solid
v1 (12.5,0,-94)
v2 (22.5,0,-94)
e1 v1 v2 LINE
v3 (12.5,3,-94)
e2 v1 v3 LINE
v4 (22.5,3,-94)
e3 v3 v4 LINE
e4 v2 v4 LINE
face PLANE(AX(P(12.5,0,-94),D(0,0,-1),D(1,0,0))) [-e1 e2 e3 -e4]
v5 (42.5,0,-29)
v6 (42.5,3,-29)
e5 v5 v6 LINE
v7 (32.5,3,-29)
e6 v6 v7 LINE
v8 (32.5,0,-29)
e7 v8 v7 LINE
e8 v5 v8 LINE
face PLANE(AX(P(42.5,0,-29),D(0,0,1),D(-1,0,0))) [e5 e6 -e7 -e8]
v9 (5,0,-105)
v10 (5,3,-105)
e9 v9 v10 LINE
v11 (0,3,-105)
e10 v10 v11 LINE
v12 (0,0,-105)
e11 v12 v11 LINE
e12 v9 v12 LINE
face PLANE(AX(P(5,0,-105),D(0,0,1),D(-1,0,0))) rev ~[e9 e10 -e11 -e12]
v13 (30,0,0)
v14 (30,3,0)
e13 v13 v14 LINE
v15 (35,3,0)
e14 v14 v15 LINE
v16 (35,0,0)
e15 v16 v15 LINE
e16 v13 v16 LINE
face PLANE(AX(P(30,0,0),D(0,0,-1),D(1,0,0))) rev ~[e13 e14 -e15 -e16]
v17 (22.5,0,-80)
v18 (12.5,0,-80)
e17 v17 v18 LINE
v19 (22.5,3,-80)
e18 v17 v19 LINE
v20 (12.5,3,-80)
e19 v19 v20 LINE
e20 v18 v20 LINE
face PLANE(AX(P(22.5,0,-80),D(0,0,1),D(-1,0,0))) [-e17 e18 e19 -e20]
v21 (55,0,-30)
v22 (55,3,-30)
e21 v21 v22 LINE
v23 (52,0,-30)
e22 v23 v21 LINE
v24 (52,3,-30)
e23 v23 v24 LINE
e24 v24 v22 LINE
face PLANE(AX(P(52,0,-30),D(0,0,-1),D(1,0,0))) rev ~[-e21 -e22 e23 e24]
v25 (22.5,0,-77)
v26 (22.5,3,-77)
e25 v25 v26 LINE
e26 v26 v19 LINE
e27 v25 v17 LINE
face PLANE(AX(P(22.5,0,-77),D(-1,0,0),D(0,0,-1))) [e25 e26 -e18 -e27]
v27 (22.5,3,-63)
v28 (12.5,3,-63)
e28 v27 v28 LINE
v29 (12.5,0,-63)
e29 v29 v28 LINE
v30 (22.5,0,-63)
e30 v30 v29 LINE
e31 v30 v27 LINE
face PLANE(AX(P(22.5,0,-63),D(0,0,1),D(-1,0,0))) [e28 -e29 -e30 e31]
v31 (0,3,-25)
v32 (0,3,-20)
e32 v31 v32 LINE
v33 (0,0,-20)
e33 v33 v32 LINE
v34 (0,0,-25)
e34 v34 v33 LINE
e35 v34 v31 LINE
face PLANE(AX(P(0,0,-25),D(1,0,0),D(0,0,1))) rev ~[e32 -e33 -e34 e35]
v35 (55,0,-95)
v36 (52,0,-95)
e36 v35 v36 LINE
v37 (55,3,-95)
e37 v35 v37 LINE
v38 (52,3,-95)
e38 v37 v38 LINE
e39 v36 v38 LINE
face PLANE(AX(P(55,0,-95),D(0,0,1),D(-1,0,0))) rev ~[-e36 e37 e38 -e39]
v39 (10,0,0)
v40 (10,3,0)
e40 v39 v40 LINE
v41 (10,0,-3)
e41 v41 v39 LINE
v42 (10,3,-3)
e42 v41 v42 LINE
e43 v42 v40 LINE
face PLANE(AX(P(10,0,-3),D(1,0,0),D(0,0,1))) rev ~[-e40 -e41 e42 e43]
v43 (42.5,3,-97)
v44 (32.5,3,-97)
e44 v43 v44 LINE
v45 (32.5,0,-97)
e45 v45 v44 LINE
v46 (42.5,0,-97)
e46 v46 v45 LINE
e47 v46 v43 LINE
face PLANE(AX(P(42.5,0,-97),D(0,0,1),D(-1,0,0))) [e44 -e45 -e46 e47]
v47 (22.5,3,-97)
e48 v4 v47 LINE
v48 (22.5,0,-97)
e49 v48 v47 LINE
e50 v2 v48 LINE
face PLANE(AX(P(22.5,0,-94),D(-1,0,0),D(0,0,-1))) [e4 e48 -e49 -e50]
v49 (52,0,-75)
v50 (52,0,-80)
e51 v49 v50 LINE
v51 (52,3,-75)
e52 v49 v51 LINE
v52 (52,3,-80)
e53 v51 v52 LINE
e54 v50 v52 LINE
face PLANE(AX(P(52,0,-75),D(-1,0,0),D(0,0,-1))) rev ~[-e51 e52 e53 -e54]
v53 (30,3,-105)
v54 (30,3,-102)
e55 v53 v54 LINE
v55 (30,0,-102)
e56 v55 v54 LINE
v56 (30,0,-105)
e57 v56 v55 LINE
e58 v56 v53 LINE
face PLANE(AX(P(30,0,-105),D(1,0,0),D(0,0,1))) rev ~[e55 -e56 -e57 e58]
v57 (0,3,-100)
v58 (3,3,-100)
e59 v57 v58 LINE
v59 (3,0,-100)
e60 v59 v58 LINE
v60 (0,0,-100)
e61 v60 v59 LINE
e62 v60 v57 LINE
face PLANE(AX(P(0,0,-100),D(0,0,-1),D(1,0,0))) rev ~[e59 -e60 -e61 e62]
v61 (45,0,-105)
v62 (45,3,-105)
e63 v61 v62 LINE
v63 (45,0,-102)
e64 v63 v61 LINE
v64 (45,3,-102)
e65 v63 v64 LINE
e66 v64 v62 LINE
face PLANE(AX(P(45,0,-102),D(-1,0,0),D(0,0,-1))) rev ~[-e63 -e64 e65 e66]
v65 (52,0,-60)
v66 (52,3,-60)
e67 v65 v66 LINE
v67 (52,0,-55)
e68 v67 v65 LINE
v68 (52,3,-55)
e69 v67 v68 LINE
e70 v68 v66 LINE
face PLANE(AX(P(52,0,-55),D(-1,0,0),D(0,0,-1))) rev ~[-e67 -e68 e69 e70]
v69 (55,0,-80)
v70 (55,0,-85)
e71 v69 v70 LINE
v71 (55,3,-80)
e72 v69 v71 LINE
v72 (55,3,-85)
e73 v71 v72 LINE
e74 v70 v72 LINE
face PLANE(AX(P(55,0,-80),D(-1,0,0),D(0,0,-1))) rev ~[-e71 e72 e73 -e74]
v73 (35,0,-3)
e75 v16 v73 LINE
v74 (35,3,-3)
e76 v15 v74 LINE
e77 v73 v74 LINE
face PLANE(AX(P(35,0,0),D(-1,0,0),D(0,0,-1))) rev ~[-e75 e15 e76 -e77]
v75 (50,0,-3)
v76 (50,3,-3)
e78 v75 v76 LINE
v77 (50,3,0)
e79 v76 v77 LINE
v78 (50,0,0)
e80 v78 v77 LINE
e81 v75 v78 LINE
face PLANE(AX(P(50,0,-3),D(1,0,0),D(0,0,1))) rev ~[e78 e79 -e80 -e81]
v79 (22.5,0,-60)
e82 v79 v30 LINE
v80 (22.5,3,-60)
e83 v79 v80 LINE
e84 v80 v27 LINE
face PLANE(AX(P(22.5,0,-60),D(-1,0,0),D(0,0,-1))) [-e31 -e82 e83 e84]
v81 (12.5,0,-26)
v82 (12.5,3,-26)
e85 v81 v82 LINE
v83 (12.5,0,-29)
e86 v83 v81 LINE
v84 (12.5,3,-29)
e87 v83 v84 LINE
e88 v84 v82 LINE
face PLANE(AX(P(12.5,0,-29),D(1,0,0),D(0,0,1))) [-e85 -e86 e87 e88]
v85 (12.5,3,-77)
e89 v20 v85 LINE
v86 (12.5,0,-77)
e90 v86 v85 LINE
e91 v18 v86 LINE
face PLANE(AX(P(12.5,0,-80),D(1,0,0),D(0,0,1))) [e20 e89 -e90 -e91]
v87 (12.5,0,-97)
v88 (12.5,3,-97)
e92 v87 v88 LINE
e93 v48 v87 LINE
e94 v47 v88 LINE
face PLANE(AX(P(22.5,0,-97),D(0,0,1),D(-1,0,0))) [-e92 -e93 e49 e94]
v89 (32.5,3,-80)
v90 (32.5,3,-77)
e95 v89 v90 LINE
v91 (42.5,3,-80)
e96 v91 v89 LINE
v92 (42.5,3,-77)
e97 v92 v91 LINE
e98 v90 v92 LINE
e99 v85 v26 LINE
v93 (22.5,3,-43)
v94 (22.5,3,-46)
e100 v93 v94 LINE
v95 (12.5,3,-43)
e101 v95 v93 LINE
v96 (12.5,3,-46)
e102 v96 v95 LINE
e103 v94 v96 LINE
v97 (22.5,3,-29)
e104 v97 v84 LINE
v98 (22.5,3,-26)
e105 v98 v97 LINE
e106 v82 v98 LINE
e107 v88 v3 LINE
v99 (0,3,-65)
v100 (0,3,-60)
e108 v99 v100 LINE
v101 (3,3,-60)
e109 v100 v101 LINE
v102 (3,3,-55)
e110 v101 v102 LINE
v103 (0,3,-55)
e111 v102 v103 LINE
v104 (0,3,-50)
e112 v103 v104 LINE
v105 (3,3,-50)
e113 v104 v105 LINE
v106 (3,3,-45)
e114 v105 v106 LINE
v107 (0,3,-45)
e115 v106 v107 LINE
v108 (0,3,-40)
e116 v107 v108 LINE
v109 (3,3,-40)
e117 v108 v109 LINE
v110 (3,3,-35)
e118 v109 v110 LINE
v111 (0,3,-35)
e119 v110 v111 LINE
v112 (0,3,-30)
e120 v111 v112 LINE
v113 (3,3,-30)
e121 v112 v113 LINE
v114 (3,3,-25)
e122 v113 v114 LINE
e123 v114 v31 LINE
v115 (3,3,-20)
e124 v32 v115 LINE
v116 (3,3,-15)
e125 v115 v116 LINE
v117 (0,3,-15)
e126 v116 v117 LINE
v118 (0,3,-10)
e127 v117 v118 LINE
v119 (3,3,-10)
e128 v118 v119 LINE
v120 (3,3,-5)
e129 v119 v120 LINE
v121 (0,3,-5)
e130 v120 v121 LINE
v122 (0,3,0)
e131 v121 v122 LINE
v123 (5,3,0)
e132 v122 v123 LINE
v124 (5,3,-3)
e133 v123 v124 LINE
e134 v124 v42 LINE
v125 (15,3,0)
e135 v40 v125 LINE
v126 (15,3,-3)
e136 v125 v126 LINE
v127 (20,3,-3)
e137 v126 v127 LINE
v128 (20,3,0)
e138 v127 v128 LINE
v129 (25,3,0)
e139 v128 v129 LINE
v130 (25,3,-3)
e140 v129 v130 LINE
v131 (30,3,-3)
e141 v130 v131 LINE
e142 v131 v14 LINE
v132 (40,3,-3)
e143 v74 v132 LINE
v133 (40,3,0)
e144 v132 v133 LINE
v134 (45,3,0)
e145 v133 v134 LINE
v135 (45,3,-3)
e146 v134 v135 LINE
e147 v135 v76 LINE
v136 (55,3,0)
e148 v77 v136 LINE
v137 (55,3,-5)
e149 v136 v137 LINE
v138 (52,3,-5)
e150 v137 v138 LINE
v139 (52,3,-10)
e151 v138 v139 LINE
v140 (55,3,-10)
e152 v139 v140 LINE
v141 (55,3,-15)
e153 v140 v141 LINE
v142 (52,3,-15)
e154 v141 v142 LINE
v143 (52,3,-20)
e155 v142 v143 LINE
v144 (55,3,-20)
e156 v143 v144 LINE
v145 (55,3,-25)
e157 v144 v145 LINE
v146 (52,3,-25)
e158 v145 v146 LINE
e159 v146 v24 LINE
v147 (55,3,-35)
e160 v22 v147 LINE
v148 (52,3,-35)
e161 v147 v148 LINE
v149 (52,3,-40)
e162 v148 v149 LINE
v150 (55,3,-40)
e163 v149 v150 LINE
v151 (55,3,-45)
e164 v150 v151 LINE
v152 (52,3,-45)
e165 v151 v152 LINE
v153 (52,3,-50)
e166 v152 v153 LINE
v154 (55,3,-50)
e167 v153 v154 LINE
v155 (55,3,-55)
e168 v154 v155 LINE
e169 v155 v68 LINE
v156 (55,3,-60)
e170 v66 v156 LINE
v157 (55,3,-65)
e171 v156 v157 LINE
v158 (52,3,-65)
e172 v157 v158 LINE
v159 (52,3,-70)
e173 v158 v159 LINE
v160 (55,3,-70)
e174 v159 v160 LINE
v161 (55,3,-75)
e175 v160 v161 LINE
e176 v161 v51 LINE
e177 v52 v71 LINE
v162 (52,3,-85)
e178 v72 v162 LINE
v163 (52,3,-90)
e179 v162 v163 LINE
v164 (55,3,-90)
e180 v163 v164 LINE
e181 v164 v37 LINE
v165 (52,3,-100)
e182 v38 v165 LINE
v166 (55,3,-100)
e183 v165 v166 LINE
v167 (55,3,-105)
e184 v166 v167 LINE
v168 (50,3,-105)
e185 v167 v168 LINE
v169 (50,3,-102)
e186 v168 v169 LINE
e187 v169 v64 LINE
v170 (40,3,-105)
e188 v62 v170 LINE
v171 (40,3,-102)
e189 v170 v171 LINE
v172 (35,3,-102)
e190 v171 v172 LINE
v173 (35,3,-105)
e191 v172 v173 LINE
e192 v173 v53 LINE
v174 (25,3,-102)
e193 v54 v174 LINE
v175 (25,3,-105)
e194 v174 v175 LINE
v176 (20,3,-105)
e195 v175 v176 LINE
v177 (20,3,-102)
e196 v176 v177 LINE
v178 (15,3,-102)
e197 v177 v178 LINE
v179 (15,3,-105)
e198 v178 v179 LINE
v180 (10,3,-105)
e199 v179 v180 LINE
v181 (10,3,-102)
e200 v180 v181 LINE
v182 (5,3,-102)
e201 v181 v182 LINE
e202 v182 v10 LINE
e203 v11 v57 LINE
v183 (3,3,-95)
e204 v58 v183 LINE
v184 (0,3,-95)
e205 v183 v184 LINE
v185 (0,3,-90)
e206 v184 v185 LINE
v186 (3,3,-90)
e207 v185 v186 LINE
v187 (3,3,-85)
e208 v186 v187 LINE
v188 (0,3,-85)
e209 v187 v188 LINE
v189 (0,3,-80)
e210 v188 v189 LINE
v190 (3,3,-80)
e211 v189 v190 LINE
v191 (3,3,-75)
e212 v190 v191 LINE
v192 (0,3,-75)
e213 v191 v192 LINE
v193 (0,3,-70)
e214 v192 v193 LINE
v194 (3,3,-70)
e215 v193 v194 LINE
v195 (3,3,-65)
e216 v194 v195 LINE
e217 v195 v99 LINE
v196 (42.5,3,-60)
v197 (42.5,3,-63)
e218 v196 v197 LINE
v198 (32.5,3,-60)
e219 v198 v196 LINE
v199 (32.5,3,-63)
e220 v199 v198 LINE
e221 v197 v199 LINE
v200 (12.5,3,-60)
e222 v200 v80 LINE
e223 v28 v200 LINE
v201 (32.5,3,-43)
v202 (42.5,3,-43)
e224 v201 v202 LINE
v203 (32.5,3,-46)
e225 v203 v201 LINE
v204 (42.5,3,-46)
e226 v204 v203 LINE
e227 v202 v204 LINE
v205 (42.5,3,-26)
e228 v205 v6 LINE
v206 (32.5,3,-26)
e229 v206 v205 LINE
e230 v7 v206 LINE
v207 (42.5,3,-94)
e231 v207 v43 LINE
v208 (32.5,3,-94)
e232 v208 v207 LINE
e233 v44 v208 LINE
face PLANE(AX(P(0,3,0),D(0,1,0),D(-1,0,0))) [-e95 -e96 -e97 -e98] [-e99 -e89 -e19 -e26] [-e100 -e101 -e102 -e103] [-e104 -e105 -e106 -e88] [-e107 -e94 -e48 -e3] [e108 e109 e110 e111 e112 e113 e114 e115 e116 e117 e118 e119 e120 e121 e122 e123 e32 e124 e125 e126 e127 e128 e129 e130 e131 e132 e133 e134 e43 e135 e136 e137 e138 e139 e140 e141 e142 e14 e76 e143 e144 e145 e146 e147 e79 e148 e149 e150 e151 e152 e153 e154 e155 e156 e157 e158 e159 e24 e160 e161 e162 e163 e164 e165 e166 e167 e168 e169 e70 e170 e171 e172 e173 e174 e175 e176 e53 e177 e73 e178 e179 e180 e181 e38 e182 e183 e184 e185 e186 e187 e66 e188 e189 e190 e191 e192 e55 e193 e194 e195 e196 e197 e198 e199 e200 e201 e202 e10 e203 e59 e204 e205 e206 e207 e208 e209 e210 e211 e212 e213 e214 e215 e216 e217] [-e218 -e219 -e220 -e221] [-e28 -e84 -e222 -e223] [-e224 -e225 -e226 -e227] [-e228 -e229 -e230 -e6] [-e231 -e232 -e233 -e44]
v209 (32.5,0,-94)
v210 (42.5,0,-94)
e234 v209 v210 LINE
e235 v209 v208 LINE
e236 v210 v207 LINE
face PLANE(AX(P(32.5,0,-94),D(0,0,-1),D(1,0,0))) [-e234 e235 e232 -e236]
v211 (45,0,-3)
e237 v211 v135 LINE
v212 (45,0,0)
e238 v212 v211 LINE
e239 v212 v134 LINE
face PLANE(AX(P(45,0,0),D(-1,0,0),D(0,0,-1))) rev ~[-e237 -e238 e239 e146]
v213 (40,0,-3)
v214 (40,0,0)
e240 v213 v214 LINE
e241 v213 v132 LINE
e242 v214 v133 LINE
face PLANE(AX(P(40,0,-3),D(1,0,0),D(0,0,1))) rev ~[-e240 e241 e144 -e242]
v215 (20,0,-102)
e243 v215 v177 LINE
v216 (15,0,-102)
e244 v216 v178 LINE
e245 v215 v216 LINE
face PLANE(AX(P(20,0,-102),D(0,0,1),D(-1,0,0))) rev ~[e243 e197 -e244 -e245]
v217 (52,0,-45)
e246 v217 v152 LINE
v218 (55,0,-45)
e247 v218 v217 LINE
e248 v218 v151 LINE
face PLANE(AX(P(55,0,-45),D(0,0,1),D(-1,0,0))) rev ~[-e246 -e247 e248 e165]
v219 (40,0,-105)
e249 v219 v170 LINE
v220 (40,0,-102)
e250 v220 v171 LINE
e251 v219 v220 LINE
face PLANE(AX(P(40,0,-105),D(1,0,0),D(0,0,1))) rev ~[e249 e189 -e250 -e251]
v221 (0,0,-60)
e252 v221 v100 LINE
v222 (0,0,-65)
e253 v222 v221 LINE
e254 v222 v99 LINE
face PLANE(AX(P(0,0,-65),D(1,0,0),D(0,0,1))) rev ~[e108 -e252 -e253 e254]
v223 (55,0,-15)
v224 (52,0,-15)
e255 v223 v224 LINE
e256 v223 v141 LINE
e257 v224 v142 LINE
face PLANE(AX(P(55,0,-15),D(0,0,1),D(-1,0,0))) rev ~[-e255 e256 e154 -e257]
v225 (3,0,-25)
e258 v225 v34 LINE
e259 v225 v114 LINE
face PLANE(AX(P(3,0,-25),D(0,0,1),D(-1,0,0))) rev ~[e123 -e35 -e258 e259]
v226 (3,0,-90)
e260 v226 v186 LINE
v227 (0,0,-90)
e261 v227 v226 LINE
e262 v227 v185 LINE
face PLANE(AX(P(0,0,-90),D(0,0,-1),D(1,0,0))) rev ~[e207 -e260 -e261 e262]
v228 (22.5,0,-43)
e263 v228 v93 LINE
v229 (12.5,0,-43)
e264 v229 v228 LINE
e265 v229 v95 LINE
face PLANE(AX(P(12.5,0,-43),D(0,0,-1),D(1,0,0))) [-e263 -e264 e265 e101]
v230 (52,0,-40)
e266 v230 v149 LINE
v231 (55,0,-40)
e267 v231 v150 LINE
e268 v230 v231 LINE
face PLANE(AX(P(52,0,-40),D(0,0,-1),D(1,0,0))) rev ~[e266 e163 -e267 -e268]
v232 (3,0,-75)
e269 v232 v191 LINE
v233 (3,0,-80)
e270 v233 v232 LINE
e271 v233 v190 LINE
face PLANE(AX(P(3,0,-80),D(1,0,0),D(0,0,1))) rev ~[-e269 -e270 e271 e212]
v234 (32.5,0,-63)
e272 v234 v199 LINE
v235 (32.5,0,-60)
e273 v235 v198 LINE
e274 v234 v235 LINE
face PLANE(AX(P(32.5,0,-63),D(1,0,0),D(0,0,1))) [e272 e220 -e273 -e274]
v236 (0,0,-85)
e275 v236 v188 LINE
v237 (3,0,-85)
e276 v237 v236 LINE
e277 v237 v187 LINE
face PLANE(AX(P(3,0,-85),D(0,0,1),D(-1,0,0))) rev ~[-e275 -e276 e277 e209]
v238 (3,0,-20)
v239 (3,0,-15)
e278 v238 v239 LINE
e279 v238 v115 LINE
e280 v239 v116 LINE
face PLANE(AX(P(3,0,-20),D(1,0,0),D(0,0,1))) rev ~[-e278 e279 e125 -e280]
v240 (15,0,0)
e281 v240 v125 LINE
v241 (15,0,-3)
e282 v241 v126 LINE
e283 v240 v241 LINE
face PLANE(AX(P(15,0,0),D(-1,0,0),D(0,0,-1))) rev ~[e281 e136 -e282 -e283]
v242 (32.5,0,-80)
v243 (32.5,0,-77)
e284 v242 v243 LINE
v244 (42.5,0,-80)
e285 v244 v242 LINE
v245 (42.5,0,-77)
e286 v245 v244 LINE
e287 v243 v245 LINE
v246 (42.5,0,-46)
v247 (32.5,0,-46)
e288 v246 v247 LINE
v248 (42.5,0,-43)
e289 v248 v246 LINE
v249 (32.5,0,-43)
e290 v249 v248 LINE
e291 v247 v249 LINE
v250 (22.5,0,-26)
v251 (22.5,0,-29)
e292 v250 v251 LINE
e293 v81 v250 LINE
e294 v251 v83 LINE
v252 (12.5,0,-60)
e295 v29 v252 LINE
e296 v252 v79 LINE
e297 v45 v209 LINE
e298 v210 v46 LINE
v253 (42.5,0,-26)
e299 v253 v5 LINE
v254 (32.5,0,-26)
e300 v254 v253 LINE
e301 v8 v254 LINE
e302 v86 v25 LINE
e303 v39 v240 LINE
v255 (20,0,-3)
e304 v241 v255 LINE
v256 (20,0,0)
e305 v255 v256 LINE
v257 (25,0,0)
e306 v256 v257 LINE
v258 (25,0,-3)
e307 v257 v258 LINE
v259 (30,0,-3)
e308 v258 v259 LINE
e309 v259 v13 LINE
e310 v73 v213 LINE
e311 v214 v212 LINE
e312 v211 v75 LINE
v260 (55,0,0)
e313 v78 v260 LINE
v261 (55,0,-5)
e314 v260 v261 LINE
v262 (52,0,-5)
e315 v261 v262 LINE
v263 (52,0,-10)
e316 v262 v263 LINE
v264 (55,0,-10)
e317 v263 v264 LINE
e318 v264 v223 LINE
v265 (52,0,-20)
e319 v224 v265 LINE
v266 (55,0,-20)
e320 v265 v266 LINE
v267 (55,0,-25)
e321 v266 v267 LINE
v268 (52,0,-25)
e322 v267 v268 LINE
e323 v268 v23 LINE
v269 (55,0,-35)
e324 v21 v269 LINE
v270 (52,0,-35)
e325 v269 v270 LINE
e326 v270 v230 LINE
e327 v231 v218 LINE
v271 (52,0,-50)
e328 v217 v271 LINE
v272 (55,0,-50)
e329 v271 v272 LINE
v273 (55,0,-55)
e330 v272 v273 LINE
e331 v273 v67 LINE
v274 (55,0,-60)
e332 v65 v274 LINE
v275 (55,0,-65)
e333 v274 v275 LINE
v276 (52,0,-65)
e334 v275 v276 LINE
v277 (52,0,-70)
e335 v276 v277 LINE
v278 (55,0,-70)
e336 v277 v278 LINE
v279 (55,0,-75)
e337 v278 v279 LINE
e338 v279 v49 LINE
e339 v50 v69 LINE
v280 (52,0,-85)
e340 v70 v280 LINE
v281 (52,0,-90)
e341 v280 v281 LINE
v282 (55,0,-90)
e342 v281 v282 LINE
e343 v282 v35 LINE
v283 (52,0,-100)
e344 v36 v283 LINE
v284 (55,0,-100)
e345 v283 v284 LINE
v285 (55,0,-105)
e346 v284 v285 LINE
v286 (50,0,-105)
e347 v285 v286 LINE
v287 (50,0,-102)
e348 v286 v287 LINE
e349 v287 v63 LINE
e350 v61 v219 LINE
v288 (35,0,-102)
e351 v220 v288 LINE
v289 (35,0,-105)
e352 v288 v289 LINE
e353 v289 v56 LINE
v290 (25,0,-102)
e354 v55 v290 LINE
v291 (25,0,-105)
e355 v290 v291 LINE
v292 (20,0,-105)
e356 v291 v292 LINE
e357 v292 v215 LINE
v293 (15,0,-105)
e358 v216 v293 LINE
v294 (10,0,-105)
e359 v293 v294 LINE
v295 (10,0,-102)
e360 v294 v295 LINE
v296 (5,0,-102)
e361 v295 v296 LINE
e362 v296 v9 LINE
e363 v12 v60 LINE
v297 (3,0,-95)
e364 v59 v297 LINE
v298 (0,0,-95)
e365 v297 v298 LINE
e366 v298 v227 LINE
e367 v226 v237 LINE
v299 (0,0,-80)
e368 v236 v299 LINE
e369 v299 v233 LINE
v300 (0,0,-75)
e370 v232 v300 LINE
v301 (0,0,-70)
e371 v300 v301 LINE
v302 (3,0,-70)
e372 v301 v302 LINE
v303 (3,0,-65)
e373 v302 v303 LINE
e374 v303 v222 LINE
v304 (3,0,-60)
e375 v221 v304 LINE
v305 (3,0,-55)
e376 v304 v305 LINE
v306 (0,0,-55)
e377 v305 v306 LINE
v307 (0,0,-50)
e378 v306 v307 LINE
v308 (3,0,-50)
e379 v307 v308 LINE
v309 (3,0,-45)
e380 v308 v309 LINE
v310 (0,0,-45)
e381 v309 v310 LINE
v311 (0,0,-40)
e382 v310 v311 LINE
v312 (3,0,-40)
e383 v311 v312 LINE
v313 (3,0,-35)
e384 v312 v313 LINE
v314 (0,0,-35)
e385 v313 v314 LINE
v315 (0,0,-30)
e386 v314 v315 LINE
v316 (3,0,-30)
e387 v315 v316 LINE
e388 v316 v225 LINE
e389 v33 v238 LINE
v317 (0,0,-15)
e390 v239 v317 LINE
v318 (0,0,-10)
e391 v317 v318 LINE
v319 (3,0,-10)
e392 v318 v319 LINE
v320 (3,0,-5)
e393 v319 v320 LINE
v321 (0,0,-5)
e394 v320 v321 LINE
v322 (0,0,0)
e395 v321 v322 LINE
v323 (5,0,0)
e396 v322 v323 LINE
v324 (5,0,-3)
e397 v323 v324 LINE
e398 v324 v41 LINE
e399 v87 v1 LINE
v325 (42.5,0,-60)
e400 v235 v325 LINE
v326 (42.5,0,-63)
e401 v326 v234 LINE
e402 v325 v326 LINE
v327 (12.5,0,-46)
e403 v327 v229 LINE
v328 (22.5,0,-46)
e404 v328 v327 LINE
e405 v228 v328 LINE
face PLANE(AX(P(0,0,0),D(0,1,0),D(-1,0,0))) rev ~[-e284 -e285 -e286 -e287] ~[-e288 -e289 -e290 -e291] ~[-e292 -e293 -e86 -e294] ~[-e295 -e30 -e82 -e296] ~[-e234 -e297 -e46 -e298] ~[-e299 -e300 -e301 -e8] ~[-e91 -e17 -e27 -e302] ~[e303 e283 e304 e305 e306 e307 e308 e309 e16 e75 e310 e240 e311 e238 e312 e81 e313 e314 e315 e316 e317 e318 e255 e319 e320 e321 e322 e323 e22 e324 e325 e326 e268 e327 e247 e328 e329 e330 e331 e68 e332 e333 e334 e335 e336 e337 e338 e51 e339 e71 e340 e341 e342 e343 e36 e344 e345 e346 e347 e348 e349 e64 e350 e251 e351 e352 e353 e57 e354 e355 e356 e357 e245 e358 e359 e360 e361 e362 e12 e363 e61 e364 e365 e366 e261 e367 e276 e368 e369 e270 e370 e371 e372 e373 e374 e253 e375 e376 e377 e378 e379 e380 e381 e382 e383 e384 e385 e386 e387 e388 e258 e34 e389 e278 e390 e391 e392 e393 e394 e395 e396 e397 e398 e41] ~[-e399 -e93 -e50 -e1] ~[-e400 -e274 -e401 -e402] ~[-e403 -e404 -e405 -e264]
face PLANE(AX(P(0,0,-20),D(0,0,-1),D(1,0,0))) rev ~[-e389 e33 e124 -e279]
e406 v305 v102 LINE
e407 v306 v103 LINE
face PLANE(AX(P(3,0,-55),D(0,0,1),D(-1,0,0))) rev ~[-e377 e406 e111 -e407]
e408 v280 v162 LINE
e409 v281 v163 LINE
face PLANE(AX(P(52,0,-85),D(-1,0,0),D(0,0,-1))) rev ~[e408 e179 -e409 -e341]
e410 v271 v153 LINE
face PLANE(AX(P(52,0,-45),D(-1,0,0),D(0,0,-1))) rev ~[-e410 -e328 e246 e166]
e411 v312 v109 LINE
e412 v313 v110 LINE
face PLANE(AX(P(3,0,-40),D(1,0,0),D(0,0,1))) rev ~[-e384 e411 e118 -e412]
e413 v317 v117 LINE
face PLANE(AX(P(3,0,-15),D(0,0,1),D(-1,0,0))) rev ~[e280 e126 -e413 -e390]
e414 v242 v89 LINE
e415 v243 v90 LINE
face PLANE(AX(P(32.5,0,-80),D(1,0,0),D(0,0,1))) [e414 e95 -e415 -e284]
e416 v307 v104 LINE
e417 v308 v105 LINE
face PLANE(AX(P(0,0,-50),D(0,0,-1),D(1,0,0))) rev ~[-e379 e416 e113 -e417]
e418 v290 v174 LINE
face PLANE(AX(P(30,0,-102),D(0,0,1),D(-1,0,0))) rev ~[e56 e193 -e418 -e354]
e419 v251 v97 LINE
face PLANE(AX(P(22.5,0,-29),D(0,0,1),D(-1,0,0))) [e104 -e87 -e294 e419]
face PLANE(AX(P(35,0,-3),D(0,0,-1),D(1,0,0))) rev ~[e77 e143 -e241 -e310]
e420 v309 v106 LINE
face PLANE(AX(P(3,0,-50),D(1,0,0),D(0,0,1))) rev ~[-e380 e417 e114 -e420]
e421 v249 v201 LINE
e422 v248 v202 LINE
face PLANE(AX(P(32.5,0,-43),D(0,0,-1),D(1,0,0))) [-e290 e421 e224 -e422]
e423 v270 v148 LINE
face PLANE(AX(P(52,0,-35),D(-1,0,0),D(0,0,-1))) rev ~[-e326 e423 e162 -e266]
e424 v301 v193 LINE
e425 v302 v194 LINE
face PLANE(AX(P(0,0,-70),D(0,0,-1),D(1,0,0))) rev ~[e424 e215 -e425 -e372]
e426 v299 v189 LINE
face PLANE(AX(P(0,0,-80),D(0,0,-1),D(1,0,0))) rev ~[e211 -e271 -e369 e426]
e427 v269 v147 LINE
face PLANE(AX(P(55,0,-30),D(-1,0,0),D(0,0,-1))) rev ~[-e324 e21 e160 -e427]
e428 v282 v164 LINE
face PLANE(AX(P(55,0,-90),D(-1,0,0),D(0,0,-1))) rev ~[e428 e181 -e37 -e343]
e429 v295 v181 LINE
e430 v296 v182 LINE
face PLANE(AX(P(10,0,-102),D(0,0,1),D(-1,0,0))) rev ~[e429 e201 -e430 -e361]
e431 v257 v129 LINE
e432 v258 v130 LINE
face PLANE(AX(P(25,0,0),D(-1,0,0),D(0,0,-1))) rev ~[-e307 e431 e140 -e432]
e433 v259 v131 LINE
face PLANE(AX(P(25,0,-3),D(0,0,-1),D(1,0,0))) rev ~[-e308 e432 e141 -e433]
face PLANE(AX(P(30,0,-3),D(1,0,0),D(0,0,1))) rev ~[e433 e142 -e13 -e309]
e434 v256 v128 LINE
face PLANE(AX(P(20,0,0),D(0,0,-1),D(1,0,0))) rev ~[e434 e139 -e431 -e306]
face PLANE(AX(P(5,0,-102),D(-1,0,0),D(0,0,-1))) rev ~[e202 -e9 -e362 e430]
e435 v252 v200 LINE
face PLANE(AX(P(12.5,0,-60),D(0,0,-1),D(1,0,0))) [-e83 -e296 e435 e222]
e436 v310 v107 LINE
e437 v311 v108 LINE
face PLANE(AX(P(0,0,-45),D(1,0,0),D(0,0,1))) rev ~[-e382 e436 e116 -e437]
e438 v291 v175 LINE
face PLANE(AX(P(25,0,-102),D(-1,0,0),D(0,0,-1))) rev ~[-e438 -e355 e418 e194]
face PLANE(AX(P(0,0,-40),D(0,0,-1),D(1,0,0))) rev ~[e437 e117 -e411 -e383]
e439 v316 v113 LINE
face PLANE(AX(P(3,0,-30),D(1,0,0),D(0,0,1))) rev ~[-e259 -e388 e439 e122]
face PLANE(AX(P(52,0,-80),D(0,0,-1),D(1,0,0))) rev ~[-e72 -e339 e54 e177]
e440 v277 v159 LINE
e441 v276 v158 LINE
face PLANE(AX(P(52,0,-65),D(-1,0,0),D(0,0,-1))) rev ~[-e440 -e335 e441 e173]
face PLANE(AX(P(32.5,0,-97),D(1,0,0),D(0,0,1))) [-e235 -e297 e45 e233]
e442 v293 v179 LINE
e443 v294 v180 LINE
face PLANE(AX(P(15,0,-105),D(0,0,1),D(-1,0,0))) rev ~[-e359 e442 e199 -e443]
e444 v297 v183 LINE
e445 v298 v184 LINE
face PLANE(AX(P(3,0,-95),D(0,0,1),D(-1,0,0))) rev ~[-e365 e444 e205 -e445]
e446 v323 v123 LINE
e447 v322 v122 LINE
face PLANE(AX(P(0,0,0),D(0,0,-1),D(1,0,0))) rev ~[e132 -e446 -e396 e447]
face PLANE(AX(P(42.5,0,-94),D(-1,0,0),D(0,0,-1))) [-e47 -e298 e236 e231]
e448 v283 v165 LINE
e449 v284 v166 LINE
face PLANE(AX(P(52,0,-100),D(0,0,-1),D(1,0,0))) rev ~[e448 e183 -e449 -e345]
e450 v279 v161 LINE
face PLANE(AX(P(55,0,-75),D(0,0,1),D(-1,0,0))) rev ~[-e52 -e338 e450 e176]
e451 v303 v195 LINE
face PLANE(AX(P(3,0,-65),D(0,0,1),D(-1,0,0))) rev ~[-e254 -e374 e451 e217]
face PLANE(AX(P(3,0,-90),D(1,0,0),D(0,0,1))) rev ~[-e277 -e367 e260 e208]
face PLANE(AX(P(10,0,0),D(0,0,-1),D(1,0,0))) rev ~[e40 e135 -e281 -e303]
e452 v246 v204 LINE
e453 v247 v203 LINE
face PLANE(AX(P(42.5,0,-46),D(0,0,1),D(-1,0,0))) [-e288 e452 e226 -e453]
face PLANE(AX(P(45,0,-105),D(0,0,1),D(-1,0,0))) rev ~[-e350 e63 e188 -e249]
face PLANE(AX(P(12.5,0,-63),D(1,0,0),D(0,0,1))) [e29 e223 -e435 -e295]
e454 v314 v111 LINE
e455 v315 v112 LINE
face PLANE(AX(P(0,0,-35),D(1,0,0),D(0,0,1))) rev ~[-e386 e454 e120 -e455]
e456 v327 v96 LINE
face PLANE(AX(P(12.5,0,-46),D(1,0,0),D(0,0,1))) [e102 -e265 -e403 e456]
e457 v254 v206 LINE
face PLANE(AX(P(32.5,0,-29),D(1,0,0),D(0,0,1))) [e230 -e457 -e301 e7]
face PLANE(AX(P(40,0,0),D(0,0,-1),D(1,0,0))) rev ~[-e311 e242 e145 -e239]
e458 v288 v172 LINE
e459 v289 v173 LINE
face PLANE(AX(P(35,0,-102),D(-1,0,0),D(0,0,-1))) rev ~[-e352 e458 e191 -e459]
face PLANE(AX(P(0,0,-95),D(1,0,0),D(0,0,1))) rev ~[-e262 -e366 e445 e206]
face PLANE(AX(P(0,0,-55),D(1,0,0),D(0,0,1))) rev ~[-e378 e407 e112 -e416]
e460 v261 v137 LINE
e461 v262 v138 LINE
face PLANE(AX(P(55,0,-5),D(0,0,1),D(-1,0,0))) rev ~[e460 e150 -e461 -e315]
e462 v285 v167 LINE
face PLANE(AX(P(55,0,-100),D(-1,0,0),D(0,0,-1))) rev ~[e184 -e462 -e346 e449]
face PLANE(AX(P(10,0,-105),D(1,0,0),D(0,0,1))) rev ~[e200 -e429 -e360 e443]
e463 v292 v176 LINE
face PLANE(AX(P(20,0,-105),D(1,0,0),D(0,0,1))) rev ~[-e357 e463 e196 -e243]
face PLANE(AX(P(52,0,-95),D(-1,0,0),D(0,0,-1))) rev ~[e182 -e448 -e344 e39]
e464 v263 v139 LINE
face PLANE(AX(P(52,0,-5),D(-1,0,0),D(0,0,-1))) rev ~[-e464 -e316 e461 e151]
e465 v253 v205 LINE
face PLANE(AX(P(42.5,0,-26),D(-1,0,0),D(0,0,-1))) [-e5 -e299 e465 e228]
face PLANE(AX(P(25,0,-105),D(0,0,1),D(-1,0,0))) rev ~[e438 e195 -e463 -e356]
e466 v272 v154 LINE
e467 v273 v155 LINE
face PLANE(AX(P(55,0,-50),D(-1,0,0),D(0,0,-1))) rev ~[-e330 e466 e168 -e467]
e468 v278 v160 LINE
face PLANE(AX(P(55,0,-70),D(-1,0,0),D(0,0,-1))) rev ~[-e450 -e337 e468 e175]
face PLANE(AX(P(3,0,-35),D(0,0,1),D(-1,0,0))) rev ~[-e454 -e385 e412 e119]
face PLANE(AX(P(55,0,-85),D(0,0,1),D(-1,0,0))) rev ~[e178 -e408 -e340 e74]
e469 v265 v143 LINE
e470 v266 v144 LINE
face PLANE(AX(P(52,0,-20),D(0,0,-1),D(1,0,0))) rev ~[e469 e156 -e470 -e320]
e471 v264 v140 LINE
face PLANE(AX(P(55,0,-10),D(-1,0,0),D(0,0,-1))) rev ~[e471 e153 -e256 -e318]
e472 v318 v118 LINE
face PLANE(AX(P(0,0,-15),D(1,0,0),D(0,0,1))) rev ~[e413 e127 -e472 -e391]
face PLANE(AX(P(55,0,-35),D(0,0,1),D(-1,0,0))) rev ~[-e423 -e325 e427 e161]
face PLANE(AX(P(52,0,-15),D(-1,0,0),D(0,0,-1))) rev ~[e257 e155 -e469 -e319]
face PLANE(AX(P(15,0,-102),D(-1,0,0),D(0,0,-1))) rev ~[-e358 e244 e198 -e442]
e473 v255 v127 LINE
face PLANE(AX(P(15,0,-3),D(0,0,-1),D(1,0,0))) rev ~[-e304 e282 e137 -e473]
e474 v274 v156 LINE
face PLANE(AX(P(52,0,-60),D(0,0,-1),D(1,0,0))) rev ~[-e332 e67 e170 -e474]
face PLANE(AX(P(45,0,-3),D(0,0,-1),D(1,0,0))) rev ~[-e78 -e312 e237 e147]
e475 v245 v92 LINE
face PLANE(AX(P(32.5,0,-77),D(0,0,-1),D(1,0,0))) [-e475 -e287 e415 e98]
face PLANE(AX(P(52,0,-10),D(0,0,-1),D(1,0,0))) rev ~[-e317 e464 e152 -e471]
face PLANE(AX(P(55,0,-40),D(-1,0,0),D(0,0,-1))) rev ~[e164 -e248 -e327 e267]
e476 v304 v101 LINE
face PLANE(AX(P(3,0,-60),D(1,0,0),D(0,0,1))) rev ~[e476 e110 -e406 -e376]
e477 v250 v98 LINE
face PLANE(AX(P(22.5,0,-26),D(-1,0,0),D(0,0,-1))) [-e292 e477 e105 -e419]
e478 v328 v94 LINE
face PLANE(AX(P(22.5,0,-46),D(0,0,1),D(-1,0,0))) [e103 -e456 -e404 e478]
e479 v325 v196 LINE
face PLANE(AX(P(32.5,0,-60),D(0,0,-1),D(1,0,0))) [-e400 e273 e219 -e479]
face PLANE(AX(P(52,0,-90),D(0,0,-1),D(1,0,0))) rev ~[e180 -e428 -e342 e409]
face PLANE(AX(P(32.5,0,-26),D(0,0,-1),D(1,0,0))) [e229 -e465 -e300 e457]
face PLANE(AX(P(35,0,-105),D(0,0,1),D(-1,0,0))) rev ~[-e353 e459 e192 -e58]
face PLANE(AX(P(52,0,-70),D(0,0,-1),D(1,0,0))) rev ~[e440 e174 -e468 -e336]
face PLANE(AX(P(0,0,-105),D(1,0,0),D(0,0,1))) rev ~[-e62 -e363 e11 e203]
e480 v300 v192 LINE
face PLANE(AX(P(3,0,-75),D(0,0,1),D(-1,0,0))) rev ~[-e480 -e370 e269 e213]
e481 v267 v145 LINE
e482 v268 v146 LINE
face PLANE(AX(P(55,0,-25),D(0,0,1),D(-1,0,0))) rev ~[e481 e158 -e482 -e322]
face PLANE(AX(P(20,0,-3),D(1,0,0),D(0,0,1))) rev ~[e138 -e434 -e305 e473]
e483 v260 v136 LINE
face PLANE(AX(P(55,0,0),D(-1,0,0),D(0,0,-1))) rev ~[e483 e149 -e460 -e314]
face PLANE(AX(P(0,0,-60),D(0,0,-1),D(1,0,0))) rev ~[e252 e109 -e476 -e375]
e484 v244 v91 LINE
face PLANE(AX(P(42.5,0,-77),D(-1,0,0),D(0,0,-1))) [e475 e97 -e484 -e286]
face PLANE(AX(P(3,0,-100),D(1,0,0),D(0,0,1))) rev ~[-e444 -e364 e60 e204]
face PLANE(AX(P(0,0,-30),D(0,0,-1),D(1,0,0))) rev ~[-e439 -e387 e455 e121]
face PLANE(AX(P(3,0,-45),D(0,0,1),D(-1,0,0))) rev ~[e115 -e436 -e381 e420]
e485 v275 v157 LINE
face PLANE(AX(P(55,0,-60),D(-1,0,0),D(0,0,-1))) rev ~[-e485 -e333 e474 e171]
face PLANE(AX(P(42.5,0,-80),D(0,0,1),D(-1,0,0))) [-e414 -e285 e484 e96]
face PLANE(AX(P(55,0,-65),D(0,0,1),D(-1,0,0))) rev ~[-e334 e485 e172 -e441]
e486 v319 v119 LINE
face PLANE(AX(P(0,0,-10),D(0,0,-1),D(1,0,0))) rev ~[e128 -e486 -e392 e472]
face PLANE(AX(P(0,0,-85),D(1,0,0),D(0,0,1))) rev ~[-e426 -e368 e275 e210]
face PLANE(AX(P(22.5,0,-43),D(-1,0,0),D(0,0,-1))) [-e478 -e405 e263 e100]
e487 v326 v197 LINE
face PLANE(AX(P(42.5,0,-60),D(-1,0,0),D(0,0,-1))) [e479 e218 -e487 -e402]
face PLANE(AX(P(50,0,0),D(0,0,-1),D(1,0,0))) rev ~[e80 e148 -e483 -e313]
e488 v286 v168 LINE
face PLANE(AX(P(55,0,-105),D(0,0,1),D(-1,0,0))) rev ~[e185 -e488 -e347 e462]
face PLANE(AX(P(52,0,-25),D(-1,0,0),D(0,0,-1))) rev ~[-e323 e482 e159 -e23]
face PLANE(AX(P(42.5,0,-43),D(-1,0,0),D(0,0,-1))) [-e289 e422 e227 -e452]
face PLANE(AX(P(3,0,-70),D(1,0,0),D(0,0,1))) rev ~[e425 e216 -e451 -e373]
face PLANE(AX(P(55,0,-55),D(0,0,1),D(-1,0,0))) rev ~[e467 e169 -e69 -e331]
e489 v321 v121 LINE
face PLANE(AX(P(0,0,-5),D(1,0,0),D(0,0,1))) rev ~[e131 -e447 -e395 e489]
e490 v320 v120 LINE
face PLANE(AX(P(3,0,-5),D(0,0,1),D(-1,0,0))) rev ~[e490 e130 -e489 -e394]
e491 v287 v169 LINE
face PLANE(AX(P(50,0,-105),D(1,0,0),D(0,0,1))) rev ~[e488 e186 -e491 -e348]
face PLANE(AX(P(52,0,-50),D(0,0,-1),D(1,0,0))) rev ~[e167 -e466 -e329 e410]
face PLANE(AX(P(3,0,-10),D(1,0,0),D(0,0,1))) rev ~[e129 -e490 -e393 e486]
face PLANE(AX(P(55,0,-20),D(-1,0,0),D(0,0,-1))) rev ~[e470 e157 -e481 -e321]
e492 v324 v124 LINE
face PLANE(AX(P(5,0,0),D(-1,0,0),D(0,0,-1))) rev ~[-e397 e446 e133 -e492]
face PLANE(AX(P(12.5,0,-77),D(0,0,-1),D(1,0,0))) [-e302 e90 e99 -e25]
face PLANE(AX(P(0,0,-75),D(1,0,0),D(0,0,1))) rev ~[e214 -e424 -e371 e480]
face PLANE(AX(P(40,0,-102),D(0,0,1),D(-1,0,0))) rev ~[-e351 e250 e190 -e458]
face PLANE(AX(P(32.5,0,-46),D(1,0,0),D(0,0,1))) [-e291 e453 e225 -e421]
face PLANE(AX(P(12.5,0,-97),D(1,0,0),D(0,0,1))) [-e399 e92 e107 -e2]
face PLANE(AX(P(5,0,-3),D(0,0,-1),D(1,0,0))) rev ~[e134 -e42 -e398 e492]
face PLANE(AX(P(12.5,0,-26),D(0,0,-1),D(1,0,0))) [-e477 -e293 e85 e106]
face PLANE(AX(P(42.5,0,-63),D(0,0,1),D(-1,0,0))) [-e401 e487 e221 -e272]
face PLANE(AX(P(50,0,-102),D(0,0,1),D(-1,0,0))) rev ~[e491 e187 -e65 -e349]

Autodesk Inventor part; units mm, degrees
ref_plane "YZ Plane" through (0, 0, 0) normal (1, 0, 0) x (0, 1, 0)
ref_plane "XZ Plane" through (0, 0, 0) normal (0, 1, 0) x (-1, 0, 0)
ref_plane "XY Plane" through (0, 0, 0) normal (0, 0, 1) x (1, 0, 0)
sketch "Skizze1" plane through (0, 0, 0) normal (0, 1, 0) x (-1, 0, 0)
  line L0 (-12.5, -26) -> (-22.5, -26)
  line L1 (-22.5, -26) -> (-22.5, -29)
  line L2 (-22.5, -29) -> (-12.5, -29)
  line L3 (-12.5, -29) -> (-12.5, -26)
  line L4 (-32.5, -26) -> (-42.5, -26)
  line L5 (-42.5, -26) -> (-42.5, -29)
  line L6 (-42.5, -29) -> (-32.5, -29)
  line L7 (-32.5, -29) -> (-32.5, -26)
  line L8 (-12.5, -43) -> (-22.5, -43)
  line L9 (-22.5, -43) -> (-22.5, -46)
  line L10 (-22.5, -46) -> (-12.5, -46)
  line L11 (-12.5, -46) -> (-12.5, -43)
  line L12 (-32.5, -43) -> (-42.5, -43)
  line L13 (-42.5, -43) -> (-42.5, -46)
  line L14 (-42.5, -46) -> (-32.5, -46)
  line L15 (-32.5, -46) -> (-32.5, -43)
  line L16 (-12.5, -60) -> (-22.5, -60)
  line L17 (-22.5, -60) -> (-22.5, -63)
  line L18 (-22.5, -63) -> (-12.5, -63)
  line L19 (-12.5, -63) -> (-12.5, -60)
  line L20 (-32.5, -60) -> (-42.5, -60)
  line L21 (-42.5, -60) -> (-42.5, -63)
  line L22 (-42.5, -63) -> (-32.5, -63)
  line L23 (-32.5, -63) -> (-32.5, -60)
  line L24 (-12.5, -77) -> (-22.5, -77)
  line L25 (-22.5, -77) -> (-22.5, -80)
  line L26 (-22.5, -80) -> (-12.5, -80)
  line L27 (-12.5, -80) -> (-12.5, -77)
  line L28 (-32.5, -77) -> (-42.5, -77)
  line L29 (-42.5, -77) -> (-42.5, -80)
  line L30 (-42.5, -80) -> (-32.5, -80)
  line L31 (-32.5, -80) -> (-32.5, -77)
  line L32 (-12.5, -94) -> (-22.5, -94)
  line L33 (-22.5, -94) -> (-22.5, -97)
  line L34 (-22.5, -97) -> (-12.5, -97)
  line L35 (-12.5, -97) -> (-12.5, -94)
  line L36 (-32.5, -94) -> (-42.5, -94)
  line L37 (-42.5, -94) -> (-42.5, -97)
  line L38 (-42.5, -97) -> (-32.5, -97)
  line L39 (-32.5, -97) -> (-32.5, -94)
  line L40 (0, 0) -> (-5, 0)
  line L41 (-5, 0) -> (-5, -3)
  line L42 (-5, -3) -> (-10, -3)
  line L43 (-10, -3) -> (-10, 0)
  line L44 (-20, -3) -> (-20, 0)
  line L45 (-15, -3) -> (-20, -3)
  line L46 (-15, 0) -> (-15, -3)
  line L47 (-10, 0) -> (-15, 0)
  line L48 (-30, -3) -> (-30, 0)
  line L49 (-25, -3) -> (-30, -3)
  line L50 (-25, 0) -> (-25, -3)
  line L51 (-20, 0) -> (-25, 0)
  line L52 (-40, -3) -> (-40, 0)
  line L53 (-35, -3) -> (-40, -3)
  line L54 (-35, 0) -> (-35, -3)
  line L55 (-30, 0) -> (-35, 0)
  line L56 (-50, -3) -> (-50, 0)
  line L57 (-45, -3) -> (-50, -3)
  line L58 (-45, 0) -> (-45, -3)
  line L59 (-40, 0) -> (-45, 0)
  line L60 (-50, 0) -> (-55, 0)
  line L61 (-55, 0) -> (-55, -5)
  line L62 (-55, -5) -> (-52, -5)
  line L63 (-52, -5) -> (-52, -10)
  line L64 (-52, -10) -> (-55, -10)
  line L65 (-52, -15) -> (-52, -20)
  line L66 (-55, -10) -> (-55, -15)
  line L67 (-55, -15) -> (-52, -15)
  line L68 (-52, -20) -> (-55, -20)
  line L69 (-52, -25) -> (-52, -30)
  line L70 (-55, -20) -> (-55, -25)
  line L71 (-55, -25) -> (-52, -25)
  line L72 (-52, -30) -> (-55, -30)
  line L73 (-52, -35) -> (-52, -40)
  line L74 (-55, -30) -> (-55, -35)
  line L75 (-55, -35) -> (-52, -35)
  line L76 (-52, -40) -> (-55, -40)
  line L77 (-52, -45) -> (-52, -50)
  line L78 (-55, -40) -> (-55, -45)
  line L79 (-55, -45) -> (-52, -45)
  line L80 (-52, -50) -> (-55, -50)
  line L81 (-52, -55) -> (-52, -60)
  line L82 (-55, -50) -> (-55, -55)
  line L83 (-55, -55) -> (-52, -55)
  line L84 (-52, -60) -> (-55, -60)
  line L85 (-52, -65) -> (-52, -70)
  line L86 (-55, -60) -> (-55, -65)
  line L87 (-55, -65) -> (-52, -65)
  line L88 (-52, -70) -> (-55, -70)
  line L89 (-52, -75) -> (-52, -80)
  line L90 (-55, -70) -> (-55, -75)
  line L91 (-55, -75) -> (-52, -75)
  line L92 (-52, -80) -> (-55, -80)
  line L93 (-22.5, -61.5) -> (-32.5, -61.5) construction
  line L94 (-27.5, -105) -> (-27.5, 0) construction
  line L95 (-55, -80) -> (-55, -85)
  line L96 (-55, -105) -> (-50, -105)
  line L97 (-50, -105) -> (-50, -102)
  line L98 (-50, -102) -> (-45, -102)
  line L99 (-45, -102) -> (-45, -105)
  line L100 (-40, -102) -> (-35, -102)
  line L101 (-35, -102) -> (-35, -105)
  line L102 (-40, -105) -> (-40, -102)
  line L103 (-45, -105) -> (-40, -105)
  line L104 (-30, -102) -> (-25, -102)
  line L105 (-25, -102) -> (-25, -105)
  line L106 (-30, -105) -> (-30, -102)
  line L107 (-35, -105) -> (-30, -105)
  line L108 (-20, -102) -> (-15, -102)
  line L109 (-15, -102) -> (-15, -105)
  line L110 (-20, -105) -> (-20, -102)
  line L111 (-25, -105) -> (-20, -105)
  line L112 (-10, -102) -> (-5, -102)
  line L113 (-5, -102) -> (-5, -105)
  line L114 (-10, -105) -> (-10, -102)
  line L115 (-15, -105) -> (-10, -105)
  line L116 (-5, -105) -> (0, -105)
  line L117 (0, -105) -> (0, -100)
  line L118 (0, -100) -> (-3, -100)
  line L119 (-3, -100) -> (-3, -95)
  line L120 (-3, -95) -> (0, -95)
  line L121 (-3, -90) -> (-3, -85)
  line L122 (-3, -85) -> (0, -85)
  line L123 (0, -90) -> (-3, -90)
  line L124 (0, -95) -> (0, -90)
  line L125 (-3, -80) -> (-3, -75)
  line L126 (-3, -75) -> (0, -75)
  line L127 (0, -80) -> (-3, -80)
  line L128 (0, -85) -> (0, -80)
  line L129 (-3, -70) -> (-3, -65)
  line L130 (-3, -65) -> (0, -65)
  line L131 (0, -70) -> (-3, -70)
  line L132 (0, -75) -> (0, -70)
  line L133 (-3, -60) -> (-3, -55)
  line L134 (-3, -55) -> (0, -55)
  line L135 (0, -60) -> (-3, -60)
  line L136 (0, -65) -> (0, -60)
  line L137 (-3, -50) -> (-3, -45)
  line L138 (-3, -45) -> (0, -45)
  line L139 (0, -50) -> (-3, -50)
  line L140 (0, -55) -> (0, -50)
  line L141 (-3, -40) -> (-3, -35)
  line L142 (-3, -35) -> (0, -35)
  line L143 (0, -40) -> (-3, -40)
  line L144 (0, -45) -> (0, -40)
  line L145 (-3, -30) -> (-3, -25)
  line L146 (-3, -25) -> (0, -25)
  line L147 (0, -30) -> (-3, -30)
  line L148 (0, -35) -> (0, -30)
  line L149 (-52, -85) -> (-52, -90)
  line L150 (-55, -80) -> (-55, -85)
  line L151 (-55, -85) -> (-52, -85)
  line L152 (-52, -90) -> (-55, -90)
  line L153 (-3, -20) -> (-3, -15)
  line L154 (-3, -15) -> (0, -15)
  line L155 (0, -20) -> (-3, -20)
  line L156 (0, -25) -> (0, -20)
  line L157 (-52, -95) -> (-52, -100)
  line L158 (-55, -90) -> (-55, -95)
  line L159 (-55, -95) -> (-52, -95)
  line L160 (-52, -100) -> (-55, -100)
  line L161 (-3, -10) -> (-3, -5)
  line L162 (-3, -5) -> (0, -5)
  line L163 (0, -10) -> (-3, -10)
  line L164 (0, -15) -> (0, -10)
  line L165 (-55, -100) -> (-55, -105)
  line L166 (0, -5) -> (0, 0)
  line L167 (-3, -10) -> (-52, -10) construction
  point P0 (-27.5, -61.5)
  point P1 (-27.5, -10)
  dimension "d0" = 10
  dimension "d1" = 3
  dimension "d4" = 20
  dimension "d7" = 17
  dimension "d10" = 5
  dimension "d11" = 3
  dimension "d15" = 10
  dimension "d22" = 10
  dimension "d31" = 10
  dimension "d38" = 10
  dimension "d45" = 5
extrude "Extrusion1" add sketch "Skizze1" along normal blind 3
properties part number "plate_top_middle" material "Holz (Kirsche)"
